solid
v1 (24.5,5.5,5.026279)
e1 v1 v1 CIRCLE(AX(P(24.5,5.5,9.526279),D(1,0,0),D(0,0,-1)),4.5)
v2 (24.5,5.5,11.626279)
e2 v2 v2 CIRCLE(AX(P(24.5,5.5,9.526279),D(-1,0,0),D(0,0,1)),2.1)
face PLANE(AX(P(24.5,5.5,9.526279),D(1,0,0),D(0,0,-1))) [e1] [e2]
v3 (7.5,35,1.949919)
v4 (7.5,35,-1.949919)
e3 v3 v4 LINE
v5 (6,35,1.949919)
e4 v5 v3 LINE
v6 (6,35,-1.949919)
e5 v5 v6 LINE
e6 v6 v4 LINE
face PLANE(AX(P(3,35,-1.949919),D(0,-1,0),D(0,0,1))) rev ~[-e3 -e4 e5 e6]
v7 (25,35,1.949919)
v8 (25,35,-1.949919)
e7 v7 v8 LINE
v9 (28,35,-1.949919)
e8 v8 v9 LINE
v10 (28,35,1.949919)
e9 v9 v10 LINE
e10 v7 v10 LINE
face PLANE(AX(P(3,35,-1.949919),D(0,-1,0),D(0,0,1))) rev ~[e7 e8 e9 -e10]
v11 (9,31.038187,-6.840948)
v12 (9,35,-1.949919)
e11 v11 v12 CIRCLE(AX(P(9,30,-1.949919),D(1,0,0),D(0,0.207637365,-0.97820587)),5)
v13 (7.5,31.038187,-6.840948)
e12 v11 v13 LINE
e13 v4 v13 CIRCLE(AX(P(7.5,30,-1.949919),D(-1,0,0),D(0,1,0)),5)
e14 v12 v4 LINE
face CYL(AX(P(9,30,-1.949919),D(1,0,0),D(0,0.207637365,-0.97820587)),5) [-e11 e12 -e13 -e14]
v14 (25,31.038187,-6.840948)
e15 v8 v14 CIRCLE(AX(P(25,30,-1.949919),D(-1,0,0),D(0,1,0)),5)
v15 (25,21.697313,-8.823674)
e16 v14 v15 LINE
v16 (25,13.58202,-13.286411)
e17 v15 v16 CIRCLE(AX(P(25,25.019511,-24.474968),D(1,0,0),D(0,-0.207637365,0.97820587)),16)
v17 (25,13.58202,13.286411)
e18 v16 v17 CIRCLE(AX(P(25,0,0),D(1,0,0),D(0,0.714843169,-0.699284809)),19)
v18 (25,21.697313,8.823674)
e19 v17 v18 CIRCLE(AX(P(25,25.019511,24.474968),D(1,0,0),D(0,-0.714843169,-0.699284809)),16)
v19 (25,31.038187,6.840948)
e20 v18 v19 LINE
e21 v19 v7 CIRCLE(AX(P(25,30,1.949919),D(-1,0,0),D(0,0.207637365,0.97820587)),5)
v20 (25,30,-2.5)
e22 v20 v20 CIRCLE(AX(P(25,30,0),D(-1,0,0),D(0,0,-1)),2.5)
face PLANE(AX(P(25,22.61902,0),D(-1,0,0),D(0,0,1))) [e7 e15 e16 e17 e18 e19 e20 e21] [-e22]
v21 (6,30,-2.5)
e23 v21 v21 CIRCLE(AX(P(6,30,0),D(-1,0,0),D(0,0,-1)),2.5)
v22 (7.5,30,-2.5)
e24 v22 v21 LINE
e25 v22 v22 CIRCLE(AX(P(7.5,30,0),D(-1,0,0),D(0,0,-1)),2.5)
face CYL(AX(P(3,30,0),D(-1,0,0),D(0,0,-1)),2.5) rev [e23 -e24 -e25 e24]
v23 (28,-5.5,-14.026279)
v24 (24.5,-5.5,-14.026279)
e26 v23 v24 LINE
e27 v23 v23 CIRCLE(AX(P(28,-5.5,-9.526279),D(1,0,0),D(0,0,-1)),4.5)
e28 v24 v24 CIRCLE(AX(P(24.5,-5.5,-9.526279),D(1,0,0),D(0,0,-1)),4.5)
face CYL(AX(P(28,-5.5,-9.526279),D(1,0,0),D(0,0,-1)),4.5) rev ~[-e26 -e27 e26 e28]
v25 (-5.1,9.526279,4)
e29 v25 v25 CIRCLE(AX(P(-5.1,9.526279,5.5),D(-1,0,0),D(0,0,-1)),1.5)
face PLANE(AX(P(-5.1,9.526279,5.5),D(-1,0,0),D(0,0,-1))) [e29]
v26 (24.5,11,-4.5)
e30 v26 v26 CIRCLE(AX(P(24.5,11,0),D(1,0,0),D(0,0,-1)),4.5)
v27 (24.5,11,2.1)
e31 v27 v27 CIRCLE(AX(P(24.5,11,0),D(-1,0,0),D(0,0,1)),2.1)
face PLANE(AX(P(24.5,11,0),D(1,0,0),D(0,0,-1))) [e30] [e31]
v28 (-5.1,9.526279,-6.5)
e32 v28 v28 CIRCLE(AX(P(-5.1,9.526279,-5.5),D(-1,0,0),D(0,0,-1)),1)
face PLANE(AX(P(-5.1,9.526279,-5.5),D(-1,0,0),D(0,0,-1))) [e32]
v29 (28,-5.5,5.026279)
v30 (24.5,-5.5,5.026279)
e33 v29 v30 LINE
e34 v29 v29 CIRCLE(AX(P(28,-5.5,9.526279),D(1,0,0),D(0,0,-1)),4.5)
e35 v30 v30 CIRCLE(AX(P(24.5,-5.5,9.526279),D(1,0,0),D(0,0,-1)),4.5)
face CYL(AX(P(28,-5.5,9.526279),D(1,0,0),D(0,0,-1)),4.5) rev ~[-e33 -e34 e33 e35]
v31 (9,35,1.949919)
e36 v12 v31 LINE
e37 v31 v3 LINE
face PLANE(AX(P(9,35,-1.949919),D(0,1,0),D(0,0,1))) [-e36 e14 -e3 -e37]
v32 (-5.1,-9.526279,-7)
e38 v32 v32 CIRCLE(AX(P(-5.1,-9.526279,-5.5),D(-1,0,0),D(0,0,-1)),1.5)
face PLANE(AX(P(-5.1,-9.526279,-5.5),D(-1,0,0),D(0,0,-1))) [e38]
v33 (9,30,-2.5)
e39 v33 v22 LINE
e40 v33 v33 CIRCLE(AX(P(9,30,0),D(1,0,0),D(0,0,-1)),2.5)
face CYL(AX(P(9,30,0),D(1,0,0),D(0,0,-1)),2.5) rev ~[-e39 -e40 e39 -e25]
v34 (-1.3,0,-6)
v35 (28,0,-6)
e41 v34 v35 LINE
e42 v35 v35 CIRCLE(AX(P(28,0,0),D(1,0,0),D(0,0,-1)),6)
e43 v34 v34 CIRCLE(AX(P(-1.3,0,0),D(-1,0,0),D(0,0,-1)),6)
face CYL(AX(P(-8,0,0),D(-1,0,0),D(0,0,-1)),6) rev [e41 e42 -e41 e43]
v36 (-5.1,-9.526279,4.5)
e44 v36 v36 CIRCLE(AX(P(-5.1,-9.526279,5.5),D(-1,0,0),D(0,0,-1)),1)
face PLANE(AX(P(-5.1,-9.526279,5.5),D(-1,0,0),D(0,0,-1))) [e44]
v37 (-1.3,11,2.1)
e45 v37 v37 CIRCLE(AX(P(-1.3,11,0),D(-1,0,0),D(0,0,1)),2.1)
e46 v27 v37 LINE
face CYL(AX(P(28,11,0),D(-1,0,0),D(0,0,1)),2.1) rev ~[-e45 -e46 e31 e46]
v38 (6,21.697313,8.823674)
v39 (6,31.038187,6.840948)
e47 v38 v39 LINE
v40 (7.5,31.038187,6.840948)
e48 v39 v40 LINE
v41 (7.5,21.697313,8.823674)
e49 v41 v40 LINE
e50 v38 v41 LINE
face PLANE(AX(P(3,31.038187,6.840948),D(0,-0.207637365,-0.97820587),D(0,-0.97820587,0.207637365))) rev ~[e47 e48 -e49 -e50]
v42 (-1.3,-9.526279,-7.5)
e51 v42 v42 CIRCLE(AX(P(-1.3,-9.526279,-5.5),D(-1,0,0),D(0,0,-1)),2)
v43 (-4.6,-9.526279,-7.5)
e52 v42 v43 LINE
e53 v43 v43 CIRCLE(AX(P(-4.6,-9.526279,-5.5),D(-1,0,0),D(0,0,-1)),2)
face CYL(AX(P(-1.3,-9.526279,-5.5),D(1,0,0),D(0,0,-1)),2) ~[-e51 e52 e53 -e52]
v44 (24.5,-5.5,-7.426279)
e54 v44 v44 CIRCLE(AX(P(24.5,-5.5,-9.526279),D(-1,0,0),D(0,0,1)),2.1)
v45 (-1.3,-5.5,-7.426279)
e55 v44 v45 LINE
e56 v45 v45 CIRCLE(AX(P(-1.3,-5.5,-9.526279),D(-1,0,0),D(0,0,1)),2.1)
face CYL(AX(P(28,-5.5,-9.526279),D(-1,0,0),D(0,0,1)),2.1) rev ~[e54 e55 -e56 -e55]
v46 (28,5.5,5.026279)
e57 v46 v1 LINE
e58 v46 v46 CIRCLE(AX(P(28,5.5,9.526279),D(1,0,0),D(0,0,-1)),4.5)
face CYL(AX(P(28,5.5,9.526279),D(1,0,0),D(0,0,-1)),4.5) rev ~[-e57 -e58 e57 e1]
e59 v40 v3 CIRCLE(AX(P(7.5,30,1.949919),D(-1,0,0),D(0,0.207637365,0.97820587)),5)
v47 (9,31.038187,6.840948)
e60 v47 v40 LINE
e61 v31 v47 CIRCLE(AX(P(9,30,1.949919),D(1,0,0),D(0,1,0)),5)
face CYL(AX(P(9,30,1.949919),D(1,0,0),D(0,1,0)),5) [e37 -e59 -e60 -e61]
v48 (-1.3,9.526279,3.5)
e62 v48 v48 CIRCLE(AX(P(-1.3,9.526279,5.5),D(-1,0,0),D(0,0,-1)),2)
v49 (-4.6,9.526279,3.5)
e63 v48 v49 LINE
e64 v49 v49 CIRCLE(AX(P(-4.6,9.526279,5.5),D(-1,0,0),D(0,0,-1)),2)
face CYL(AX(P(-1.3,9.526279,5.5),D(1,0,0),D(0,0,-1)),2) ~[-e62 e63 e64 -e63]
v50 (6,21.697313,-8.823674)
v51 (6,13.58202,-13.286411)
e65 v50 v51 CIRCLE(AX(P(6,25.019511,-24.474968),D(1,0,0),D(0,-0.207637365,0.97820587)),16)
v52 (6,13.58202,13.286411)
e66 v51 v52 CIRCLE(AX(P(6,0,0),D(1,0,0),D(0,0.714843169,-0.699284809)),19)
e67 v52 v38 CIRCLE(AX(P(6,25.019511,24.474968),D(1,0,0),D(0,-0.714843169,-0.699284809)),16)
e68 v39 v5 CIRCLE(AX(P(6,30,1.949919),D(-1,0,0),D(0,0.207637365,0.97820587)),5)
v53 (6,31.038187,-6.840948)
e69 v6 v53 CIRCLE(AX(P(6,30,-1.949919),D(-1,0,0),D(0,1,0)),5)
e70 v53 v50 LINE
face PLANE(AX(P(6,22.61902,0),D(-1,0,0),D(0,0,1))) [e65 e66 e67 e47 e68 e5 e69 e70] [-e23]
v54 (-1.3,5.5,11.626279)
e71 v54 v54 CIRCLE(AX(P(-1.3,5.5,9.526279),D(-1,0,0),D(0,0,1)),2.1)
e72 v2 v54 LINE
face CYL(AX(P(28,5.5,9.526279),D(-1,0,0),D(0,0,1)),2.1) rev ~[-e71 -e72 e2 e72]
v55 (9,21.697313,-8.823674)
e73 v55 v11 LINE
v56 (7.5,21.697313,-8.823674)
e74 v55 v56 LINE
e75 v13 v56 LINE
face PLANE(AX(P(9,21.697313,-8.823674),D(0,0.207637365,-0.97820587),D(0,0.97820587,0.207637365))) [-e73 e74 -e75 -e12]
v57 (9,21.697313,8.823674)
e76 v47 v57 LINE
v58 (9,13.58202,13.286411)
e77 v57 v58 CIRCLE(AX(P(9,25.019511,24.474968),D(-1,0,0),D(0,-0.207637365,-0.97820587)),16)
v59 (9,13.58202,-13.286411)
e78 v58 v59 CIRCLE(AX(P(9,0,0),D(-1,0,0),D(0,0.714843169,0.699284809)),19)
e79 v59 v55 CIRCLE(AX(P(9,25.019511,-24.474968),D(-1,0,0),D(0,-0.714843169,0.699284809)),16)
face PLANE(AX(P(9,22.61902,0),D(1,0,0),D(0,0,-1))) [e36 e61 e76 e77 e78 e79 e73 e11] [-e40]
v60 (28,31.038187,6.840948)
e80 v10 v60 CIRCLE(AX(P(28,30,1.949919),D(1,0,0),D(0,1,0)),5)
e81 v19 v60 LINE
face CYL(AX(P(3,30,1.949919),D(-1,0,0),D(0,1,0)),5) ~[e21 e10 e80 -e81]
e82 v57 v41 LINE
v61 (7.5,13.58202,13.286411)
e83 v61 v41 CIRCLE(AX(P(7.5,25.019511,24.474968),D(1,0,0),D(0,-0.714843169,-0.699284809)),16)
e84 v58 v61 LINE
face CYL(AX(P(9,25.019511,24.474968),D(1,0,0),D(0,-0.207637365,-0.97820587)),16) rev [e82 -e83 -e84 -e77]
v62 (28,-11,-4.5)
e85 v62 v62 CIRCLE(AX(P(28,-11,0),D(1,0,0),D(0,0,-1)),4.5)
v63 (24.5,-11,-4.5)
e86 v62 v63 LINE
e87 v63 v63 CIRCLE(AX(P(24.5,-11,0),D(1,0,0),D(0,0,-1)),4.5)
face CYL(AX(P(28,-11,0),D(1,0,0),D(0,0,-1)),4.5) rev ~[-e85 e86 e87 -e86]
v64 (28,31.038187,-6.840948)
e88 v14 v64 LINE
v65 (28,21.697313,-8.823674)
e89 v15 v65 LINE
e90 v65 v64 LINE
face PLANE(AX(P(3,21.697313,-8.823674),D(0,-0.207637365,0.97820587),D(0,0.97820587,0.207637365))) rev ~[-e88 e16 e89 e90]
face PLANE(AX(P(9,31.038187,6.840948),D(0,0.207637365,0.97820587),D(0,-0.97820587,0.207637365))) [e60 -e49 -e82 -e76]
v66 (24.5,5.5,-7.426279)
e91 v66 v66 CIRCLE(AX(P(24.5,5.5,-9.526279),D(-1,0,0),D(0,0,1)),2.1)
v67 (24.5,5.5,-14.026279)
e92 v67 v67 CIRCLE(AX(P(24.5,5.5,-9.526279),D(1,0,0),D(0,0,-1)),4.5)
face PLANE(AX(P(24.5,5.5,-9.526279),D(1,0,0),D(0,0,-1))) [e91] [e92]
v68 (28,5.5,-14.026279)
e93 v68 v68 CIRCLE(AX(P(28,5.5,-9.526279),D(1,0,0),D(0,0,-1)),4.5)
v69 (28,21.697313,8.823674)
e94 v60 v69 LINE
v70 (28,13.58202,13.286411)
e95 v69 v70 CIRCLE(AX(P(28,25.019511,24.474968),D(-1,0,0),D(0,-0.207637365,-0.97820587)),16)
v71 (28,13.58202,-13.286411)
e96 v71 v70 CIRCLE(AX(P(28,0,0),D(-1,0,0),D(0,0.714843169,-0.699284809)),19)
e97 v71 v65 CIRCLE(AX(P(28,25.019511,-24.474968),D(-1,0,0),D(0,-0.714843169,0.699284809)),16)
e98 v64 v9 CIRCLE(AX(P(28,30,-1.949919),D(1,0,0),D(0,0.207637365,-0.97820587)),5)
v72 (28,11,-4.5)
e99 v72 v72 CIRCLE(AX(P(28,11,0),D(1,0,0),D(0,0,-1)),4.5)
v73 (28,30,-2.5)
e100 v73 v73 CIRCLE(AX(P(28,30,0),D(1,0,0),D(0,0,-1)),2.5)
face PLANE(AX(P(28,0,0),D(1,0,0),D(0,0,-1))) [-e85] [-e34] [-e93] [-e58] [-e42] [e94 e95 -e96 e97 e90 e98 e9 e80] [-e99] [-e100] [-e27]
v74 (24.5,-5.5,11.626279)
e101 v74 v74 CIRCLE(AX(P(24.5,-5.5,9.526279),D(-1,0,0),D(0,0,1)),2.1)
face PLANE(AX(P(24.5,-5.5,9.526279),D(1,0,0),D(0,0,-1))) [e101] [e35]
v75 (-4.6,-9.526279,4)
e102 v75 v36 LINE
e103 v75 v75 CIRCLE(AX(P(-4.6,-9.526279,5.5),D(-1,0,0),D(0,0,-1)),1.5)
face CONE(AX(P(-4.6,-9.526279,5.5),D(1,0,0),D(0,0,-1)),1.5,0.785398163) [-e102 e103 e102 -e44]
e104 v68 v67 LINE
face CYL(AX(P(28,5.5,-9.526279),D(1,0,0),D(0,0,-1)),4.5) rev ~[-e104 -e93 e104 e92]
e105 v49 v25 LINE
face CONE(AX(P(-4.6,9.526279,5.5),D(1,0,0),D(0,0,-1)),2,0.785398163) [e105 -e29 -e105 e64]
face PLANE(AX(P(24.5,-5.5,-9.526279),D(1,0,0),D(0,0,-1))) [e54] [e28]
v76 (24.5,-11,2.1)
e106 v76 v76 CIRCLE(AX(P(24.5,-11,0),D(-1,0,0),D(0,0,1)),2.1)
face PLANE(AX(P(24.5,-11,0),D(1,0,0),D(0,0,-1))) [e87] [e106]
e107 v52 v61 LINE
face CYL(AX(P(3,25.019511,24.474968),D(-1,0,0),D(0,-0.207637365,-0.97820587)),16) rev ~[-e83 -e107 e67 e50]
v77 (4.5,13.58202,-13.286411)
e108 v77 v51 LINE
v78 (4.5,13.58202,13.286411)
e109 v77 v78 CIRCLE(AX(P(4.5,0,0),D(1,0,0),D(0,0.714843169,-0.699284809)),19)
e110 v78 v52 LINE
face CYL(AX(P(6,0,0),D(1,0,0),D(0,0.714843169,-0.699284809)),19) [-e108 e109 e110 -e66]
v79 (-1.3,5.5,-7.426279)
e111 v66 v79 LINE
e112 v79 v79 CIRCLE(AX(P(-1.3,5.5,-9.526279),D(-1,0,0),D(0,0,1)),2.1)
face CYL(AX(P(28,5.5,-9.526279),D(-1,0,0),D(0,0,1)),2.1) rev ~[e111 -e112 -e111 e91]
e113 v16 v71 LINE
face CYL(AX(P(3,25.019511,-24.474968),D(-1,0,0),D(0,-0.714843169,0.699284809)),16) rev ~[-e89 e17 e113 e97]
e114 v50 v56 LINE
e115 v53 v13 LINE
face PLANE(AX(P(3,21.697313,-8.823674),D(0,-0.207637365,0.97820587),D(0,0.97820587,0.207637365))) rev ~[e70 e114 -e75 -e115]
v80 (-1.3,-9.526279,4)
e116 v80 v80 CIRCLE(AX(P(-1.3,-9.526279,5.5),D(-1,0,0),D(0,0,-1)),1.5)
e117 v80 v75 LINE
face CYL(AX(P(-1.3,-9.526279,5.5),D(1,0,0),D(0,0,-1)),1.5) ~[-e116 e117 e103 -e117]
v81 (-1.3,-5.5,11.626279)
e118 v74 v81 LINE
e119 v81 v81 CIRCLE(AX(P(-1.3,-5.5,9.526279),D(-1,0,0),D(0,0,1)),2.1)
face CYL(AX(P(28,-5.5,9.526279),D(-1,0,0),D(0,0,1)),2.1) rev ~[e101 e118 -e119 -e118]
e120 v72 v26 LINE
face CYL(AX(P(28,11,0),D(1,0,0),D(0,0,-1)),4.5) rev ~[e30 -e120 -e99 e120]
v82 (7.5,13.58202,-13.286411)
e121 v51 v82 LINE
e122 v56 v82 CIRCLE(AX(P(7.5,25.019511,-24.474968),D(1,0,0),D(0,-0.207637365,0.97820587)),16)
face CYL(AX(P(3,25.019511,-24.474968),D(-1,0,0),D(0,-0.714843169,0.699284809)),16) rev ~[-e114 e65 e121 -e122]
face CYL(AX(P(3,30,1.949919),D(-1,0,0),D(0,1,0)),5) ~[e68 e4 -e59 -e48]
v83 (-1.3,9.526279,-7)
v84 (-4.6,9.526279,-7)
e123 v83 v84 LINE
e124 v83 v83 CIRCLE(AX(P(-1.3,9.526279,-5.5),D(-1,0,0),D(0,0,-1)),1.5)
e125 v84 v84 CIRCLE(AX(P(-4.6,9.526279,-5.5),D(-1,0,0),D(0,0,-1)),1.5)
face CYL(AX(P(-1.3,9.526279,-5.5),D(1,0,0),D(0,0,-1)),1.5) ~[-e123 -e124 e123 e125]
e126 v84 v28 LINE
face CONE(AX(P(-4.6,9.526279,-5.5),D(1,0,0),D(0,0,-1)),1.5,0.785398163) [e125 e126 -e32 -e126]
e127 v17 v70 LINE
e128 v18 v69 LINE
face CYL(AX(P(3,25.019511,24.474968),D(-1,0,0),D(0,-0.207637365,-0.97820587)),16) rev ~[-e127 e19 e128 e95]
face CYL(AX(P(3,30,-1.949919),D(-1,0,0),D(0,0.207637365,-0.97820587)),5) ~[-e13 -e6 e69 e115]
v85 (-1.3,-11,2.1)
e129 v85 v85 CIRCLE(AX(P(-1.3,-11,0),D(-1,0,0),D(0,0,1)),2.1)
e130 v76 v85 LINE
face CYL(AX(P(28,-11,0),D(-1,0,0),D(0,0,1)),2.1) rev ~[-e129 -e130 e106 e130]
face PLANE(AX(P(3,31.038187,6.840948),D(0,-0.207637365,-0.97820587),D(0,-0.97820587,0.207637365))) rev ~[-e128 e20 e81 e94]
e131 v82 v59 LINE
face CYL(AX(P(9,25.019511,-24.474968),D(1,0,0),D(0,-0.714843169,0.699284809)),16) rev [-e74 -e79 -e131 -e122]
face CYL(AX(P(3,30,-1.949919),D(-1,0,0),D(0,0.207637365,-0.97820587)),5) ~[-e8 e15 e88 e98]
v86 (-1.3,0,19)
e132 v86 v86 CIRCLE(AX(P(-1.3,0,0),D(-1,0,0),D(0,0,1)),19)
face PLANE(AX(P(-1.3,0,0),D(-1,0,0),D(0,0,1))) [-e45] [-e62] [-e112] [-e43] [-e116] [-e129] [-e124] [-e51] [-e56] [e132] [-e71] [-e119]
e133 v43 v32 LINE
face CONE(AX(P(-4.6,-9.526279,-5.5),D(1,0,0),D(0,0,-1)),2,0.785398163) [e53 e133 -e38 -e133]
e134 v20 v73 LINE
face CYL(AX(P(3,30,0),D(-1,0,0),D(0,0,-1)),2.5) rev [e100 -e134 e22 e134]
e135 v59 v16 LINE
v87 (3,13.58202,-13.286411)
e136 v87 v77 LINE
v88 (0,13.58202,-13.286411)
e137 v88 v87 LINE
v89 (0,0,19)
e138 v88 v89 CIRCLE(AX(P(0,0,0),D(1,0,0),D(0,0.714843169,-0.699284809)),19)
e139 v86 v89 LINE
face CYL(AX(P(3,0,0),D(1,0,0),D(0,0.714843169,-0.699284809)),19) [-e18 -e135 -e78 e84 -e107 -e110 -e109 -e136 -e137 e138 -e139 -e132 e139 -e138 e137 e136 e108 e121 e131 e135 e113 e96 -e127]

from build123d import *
from build123d.topology import SkipClean

# Parameters (mm, degrees)
SKETCH_1_R                   = 19
SKETCH_1_R_2                 = 2
SKETCH_1_R_3                 = 11
EXTRUDE_1_DEPTH              = 3
EXTRUDE_START                = -3
EXTRUDE_2_DEPTH              = 3
FILLET_1_R                   = 3
SKETCH_5_R                   = 2.5
EXTRUDE_3_DEPTH              = 3
FILLET_2_R                   = 16
FILLET_3_R                   = 5
EXTRUDE_START_2              = 8
SKETCH_8_R                   = 19
SKETCH_8_R_2                 = 2
EXTRUDE_5_DEPTH              = 8
SKETCH_9_R                   = 2
SKETCH_9_R_2                 = 2.5
EXTRUDE_6_DEPTH              = 25
CUT_EXTRUDE_START            = -17.5
CUT_EXTRUDE_1_DEPTH          = 16
EXTRUDE_START_3              = -36
SKETCH_12_R                  = 19
SKETCH_12_R_2                = 11
EXTRUDE_7_DEPTH              = 36
SKETCH_13_R                  = 6
EXTRUDE_8_DEPTH              = 36
CUT_EXTRUDE_START_2          = -36
SKETCH_14_R                  = 2
CUT_EXTRUDE_2_DEPTH          = 36
SKETCH_15_R                  = 28.71288773
CUT_EXTRUDE_3_DEPTH          = 6.7
SKETCH_17_R                  = 2
SKETCH_17_R_2                = 1.5
EXTRUDE_9_DEPTH              = 3.8
CHAMFER_2_SIZE               = 0.5
CUT_EXTRUDE_START_3          = -3
CUT_EXTRUDE_4_DEPTH          = 3
HOLE_WIZARD_M5_3_D           = 4.2
HOLE_WIZARD_M5_3_CSINK_D     = 4.25
HOLE_WIZARD_M5_3_CSINK_ANGLE = 90
SKETCH_24_R                  = 4.5
CUT_EXTRUDE_5_DEPTH          = 3.5
CUT_EXTRUDE_START_4          = -1.5
CUT_EXTRUDE_6_DEPTH          = 1.5
CUT_EXTRUDE_7_DEPTH          = 1.5
EXTRUDE_START_4              = 1.5
SKETCH_28_R                  = 2.5
EXTRUDE_10_DEPTH             = 1.5
CUT_EXTRUDE_8_DEPTH          = 1.5


with BuildPart() as part:
    # 草图1 → 凸台-拉伸1 (new body)
    with BuildSketch(Plane(origin=(0, 0, 0), x_dir=(0, 0, -1), z_dir=(1, 0, 0))):
        Circle(SKETCH_1_R)
        with Locations((0, -15)):
            Circle(SKETCH_1_R_2, mode=Mode.SUBTRACT)
        with Locations((0, 13.5)):
            Circle(SKETCH_1_R_2, mode=Mode.SUBTRACT)
        with Locations((11.691342951, -6.75)):
            Circle(SKETCH_1_R_2, mode=Mode.SUBTRACT)
        with Locations((-12.990381057, 7.5)):
            Circle(SKETCH_1_R_2, mode=Mode.SUBTRACT)
        with Locations((-11.691342951, -6.75)):
            Circle(SKETCH_1_R_2, mode=Mode.SUBTRACT)
        with Locations((12.990381057, 7.5)):
            Circle(SKETCH_1_R_2, mode=Mode.SUBTRACT)
        Circle(SKETCH_1_R_3, mode=Mode.SUBTRACT)
    extrude(amount=EXTRUDE_1_DEPTH)

    # 草图3 → 凸台-拉伸2 (add)
    with BuildSketch(Plane(origin=(3, 0, 0), x_dir=(0, 0, -1), z_dir=(1, 0, 0)).offset(EXTRUDE_START)):
        with BuildLine():
            ThreePointArc((-2.795361016, 10.638888889), (0, 9.5), (2.795361016, 10.638888889))
            ThreePointArc((2.795361016, 10.638888889), (0, 11), (-2.795361016, 10.638888889))
        make_face()
        with BuildLine():
            ThreePointArc((10.611228554, -2.898590792), (8.227241336, -4.75), (7.815867538, -7.740298097))
            ThreePointArc((7.815867538, -7.740298097), (9.526279442, -5.5), (10.611228554, -2.898590792))
        make_face()
        with BuildLine():
            ThreePointArc((-7.815867538, -7.740298097), (-8.227241336, -4.75), (-10.611228554, -2.898590792))
            ThreePointArc((-10.611228554, -2.898590792), (-9.526279442, -5.5), (-7.815867538, -7.740298097))
        make_face()
    extrude(amount=EXTRUDE_2_DEPTH)

    # 圆角1
    fillet_1_edges = [part.edges().sort_by_distance(p)[0] for p in [
        (1.5, 10.638888889, 2.795361016),
        (1.5, 10.638888889, -2.795361016),
        (1.5, -2.898590792, -10.611228554),
        (1.5, -7.740298097, -7.815867538),
        (1.5, -7.740298097, 7.815867538),
        (1.5, -2.898590792, 10.611228554),
    ]]
    fillet(fillet_1_edges, radius=FILLET_1_R)

    # 草图5 → 凸台-拉伸3 (add)
    with BuildSketch(Plane(origin=(3, 0, 0), x_dir=(0, 0, -1), z_dir=(1, 0, 0)).offset(EXTRUDE_START)):
        with BuildLine():
            Line((-6, 35), (-10, 16.155494421))
            ThreePointArc((-10, 16.155494421), (0, 19), (10, 16.155494421))
            Line((10, 16.155494421), (6, 35))
            Line((6, 35), (-6, 35))
        make_face()
        with Locations((0, 30)):
            Circle(SKETCH_5_R, mode=Mode.SUBTRACT)
    extrude(amount=EXTRUDE_3_DEPTH)

    # 圆角2
    fillet_2_edges = [part.edges().sort_by_distance(p)[0] for p in [
        (1.5, 16.155494421, 10),
        (1.5, 16.155494421, -10),
    ]]
    fillet(fillet_2_edges, radius=FILLET_2_R)

    # 圆角3
    fillet_3_edges = [part.edges().sort_by_distance(p)[0] for p in [
        (1.5, 35, -6),
        (1.5, 35, 6),
    ]]
    fillet(fillet_3_edges, radius=FILLET_3_R)

    # 草图8 → 凸台-拉伸5 (add)
    with BuildSketch(Plane.ZY.offset(EXTRUDE_START_2)):
        Circle(SKETCH_8_R)
        with Locations((0, -15)):
            Circle(SKETCH_8_R_2, mode=Mode.SUBTRACT)
        with Locations((-11.691342951, -6.75)):
            Circle(SKETCH_8_R_2, mode=Mode.SUBTRACT)
        with Locations((11.691342951, -6.75)):
            Circle(SKETCH_8_R_2, mode=Mode.SUBTRACT)
        with Locations((12.990381057, 7.5)):
            Circle(SKETCH_8_R_2, mode=Mode.SUBTRACT)
        with Locations((0, 13.5)):
            Circle(SKETCH_8_R_2, mode=Mode.SUBTRACT)
        with Locations((-12.990381057, 7.5)):
            Circle(SKETCH_8_R_2, mode=Mode.SUBTRACT)
        with BuildLine():
            ThreePointArc((9.557371648, -3.366781639), (10.505068504, -2.412656367), (10.940728111, -1.140380819))
            ThreePointArc((10.940728111, -1.140380819), (9.526279442, 5.5), (4.482765296, 10.045138889))
            ThreePointArc((4.482765296, 10.045138889), (3.163112547, 10.303984377), (1.862967396, 9.96031746))
            ThreePointArc((1.862967396, 9.96031746), (0, 9.5), (-1.862967396, 9.96031746))
            ThreePointArc((-1.862967396, 9.96031746), (-3.163112547, 10.303984377), (-4.482765296, 10.045138889))
            ThreePointArc((-4.482765296, 10.045138889), (-9.526279442, 5.5), (-10.940728111, -1.140380819))
            ThreePointArc((-10.940728111, -1.140380819), (-10.505068504, -2.412656367), (-9.557371648, -3.366781639))
            ThreePointArc((-9.557371648, -3.366781639), (-8.227241336, -4.75), (-7.694404252, -6.593535821))
            ThreePointArc((-7.694404252, -6.593535821), (-7.341955957, -7.89132801), (-6.457962814, -8.90475807))
            ThreePointArc((-6.457962814, -8.90475807), (0, -11), (6.457962814, -8.90475807))
            ThreePointArc((6.457962814, -8.90475807), (7.341955957, -7.89132801), (7.694404252, -6.593535821))
            ThreePointArc((7.694404252, -6.593535821), (8.227241336, -4.75), (9.557371648, -3.366781639))
        make_face(mode=Mode.SUBTRACT)
    extrude(amount=-EXTRUDE_5_DEPTH)

    # 草图9 → 凸台-拉伸6 (add)
    with BuildSketch(Plane(origin=(3, 0, 0), x_dir=(0, 0, -1), z_dir=(1, 0, 0))):
        with BuildLine():
            Line((8.823674386, 21.697313072), (6.840948182, 31.038186825))
            ThreePointArc((6.840948182, 31.038186825), (5.097065624, 33.885288543), (1.94991883, 35))
            Line((1.94991883, 35), (-1.94991883, 35))
            ThreePointArc((-1.94991883, 35), (-5.097065624, 33.885288543), (-6.840948182, 31.038186825))
            Line((-6.840948182, 31.038186825), (-8.823674386, 21.697313072))
            ThreePointArc((-8.823674386, 21.697313072), (-10.455022048, 17.309705025), (-13.286411369, 13.582020209))
            ThreePointArc((-13.286411369, 13.582020209), (0, -19), (13.286411369, 13.582020209))
            ThreePointArc((13.286411369, 13.582020209), (10.455022048, 17.309705025), (8.823674386, 21.697313072))
        make_face()
        with Locations(Location((0, -15, 0), (0, 0, 180))):
            Circle(SKETCH_9_R, mode=Mode.SUBTRACT)
        with Locations(Location((11.691342951, -6.75, 0), (0, 0, 180))):
            Circle(SKETCH_9_R, mode=Mode.SUBTRACT)
        with Locations(Location((-11.691342951, -6.75, 0), (0, 0, 180))):
            Circle(SKETCH_9_R, mode=Mode.SUBTRACT)
        with Locations(Location((12.990381057, 7.5, 0), (0, 0, 180))):
            Circle(SKETCH_9_R, mode=Mode.SUBTRACT)
        with Locations(Location((-12.990381057, 7.5, 0), (0, 0, 180))):
            Circle(SKETCH_9_R, mode=Mode.SUBTRACT)
        with Locations(Location((0, 13.5, 0), (0, 0, 180))):
            Circle(SKETCH_9_R, mode=Mode.SUBTRACT)
        with Locations((0, 30)):
            Circle(SKETCH_9_R_2, mode=Mode.SUBTRACT)
        with BuildLine():
            ThreePointArc((6.457962814, -8.90475807), (7.341955957, -7.89132801), (7.694404252, -6.593535821))
            ThreePointArc((7.694404252, -6.593535821), (8.227241336, -4.75), (9.557371648, -3.366781639))
            ThreePointArc((9.557371648, -3.366781639), (10.505068504, -2.412656367), (10.940728111, -1.140380819))
            ThreePointArc((10.940728111, -1.140380819), (9.526279442, 5.5), (4.482765296, 10.045138889))
            ThreePointArc((4.482765296, 10.045138889), (3.163112547, 10.303984377), (1.862967396, 9.96031746))
            ThreePointArc((1.862967396, 9.96031746), (0, 9.5), (-1.862967396, 9.96031746))
            ThreePointArc((-1.862967396, 9.96031746), (-3.163112547, 10.303984377), (-4.482765296, 10.045138889))
            ThreePointArc((-4.482765296, 10.045138889), (-9.526279442, 5.5), (-10.940728111, -1.140380819))
            ThreePointArc((-10.940728111, -1.140380819), (-10.505068504, -2.412656367), (-9.557371648, -3.366781639))
            ThreePointArc((-9.557371648, -3.366781639), (-8.227241336, -4.75), (-7.694404252, -6.593535821))
            ThreePointArc((-7.694404252, -6.593535821), (-7.341955957, -7.89132801), (-6.457962814, -8.90475807))
            ThreePointArc((-6.457962814, -8.90475807), (0, -11), (6.457962814, -8.90475807))
        make_face(mode=Mode.SUBTRACT)
    extrude(amount=EXTRUDE_6_DEPTH)

    # 草图11 → 切除-拉伸1 (cut)
    with BuildSketch(Plane.ZY.offset(-6).offset(CUT_EXTRUDE_START)):
        with BuildLine():
            Line((-6.840948182, 31.038186825), (-8.823674386, 21.697313072))
            ThreePointArc((-8.823674386, 21.697313072), (-10.455022048, 17.309705025), (-13.286411369, 13.582020209))
            ThreePointArc((-13.286411369, 13.582020209), (0, 19), (13.286411369, 13.582020209))
            ThreePointArc((13.286411369, 13.582020209), (10.455022048, 17.309705025), (8.823674386, 21.697313072))
            Line((8.823674386, 21.697313072), (6.840948182, 31.038186825))
            ThreePointArc((6.840948182, 31.038186825), (5.097065624, 33.885288543), (1.94991883, 35))
            Line((1.94991883, 35), (-1.94991883, 35))
            ThreePointArc((-1.94991883, 35), (-5.097065624, 33.885288543), (-6.840948182, 31.038186825))
        make_face()
    extrude(amount=CUT_EXTRUDE_1_DEPTH, mode=Mode.SUBTRACT)

    # 草图12 → 凸台-拉伸7 (add)
    with BuildSketch(Plane(origin=(28, 0, 0), x_dir=(0, 0, -1), z_dir=(1, 0, 0)).offset(EXTRUDE_START_3)):
        with Locations(Location((0, 0, 0), (0, 0, 180))):
            Circle(SKETCH_12_R)
        Circle(SKETCH_12_R_2, mode=Mode.SUBTRACT)
    extrude(amount=EXTRUDE_7_DEPTH)

    # 草图13 → 凸台-拉伸8 (add)
    with BuildSketch(Plane(origin=(28, 0, 0), x_dir=(0, 0, -1), z_dir=(1, 0, 0)).offset(EXTRUDE_START_3)):
        with BuildLine():
            ThreePointArc((-10.364679473, 3.684212185), (-11, 0), (-10.364679473, -3.684212185))
            ThreePointArc((-10.364679473, -3.684212185), (-7.794228634, -4.5), (-8.372961082, -7.133969633))
            ThreePointArc((-8.372961082, -7.133969633), (-5.5, -9.526279442), (-1.991718391, -10.818181818))
            ThreePointArc((-1.991718391, -10.818181818), (0, -9), (1.991718391, -10.818181818))
            ThreePointArc((1.991718391, -10.818181818), (5.5, -9.526279442), (8.372961082, -7.133969633))
            ThreePointArc((8.372961082, -7.133969633), (7.794228634, -4.5), (10.364679473, -3.684212185))
            ThreePointArc((10.364679473, -3.684212185), (11, 0), (10.364679473, 3.684212185))
            ThreePointArc((10.364679473, 3.684212185), (7.794228634, 4.5), (8.372961082, 7.133969633))
            ThreePointArc((8.372961082, 7.133969633), (5.5, 9.526279442), (1.991718391, 10.818181818))
            ThreePointArc((1.991718391, 10.818181818), (0, 9), (-1.991718391, 10.818181818))
            ThreePointArc((-1.991718391, 10.818181818), (-5.5, 9.526279442), (-8.372961082, 7.133969633))
            ThreePointArc((-8.372961082, 7.133969633), (-7.794228634, 4.5), (-10.364679473, 3.684212185))
        make_face()
        Circle(SKETCH_13_R, mode=Mode.SUBTRACT)
    extrude(amount=EXTRUDE_8_DEPTH)

    # 草图14 → 切除-拉伸2 (cut)
    with SkipClean():  # the faces are left unmerged after this step: merging them gives an invalid solid
        with BuildSketch(Plane(origin=(28, 0, 0), x_dir=(0, 0, -1), z_dir=(1, 0, 0)).offset(CUT_EXTRUDE_START_2)):
            with Locations((0, 11)):
                Circle(SKETCH_14_R)
            with Locations((-9.526279442, 5.5)):
                Circle(SKETCH_14_R)
            with Locations((-9.526279442, -5.5)):
                Circle(SKETCH_14_R)
            with Locations((0, -11)):
                Circle(SKETCH_14_R)
            with Locations((9.526279442, -5.5)):
                Circle(SKETCH_14_R)
            with Locations((9.526279442, 5.5)):
                Circle(SKETCH_14_R)
        extrude(amount=CUT_EXTRUDE_2_DEPTH, mode=Mode.SUBTRACT)

    # 草图15 → 切除-拉伸3 (cut)
    with SkipClean():  # the faces are left unmerged after this step: merging them gives an invalid solid
        with BuildSketch(Plane.ZY.offset(8)):
            Circle(SKETCH_15_R)
        extrude(amount=-CUT_EXTRUDE_3_DEPTH, mode=Mode.SUBTRACT)

    # 草图17 → 凸台-拉伸9 (add)
    with SkipClean():  # the faces are left unmerged after this step: merging them gives an invalid solid
        with BuildSketch(Plane.ZY.offset(1.3)):
            with Locations(Location((-5.5, -9.526279442, 0), (0, 0, 180))):
                Circle(SKETCH_17_R)
            with Locations(Location((-5.5, 9.526279442, 0), (0, 0, 180))):
                Circle(SKETCH_17_R_2)
            with Locations(Location((5.5, 9.526279442, 0), (0, 0, 180))):
                Circle(SKETCH_17_R)
            with Locations(Location((5.5, -9.526279442, 0), (0, 0, 180))):
                Circle(SKETCH_17_R_2)
        extrude(amount=EXTRUDE_9_DEPTH)

    # 倒角2
    chamfer_2_edges = [part.edges().sort_by_distance(p)[0] for p in [
        (-5.1, -9.526279442, -3.5),
        (-5.1, 9.526279442, -4),
        (-5.1, 9.526279442, 7.5),
        (-5.1, -9.526279442, 7),
    ]]
    chamfer(chamfer_2_edges, length=CHAMFER_2_SIZE)

    # 草图19 → 切除-拉伸4 (cut)
    with SkipClean():  # the faces are left unmerged after this step: merging them gives an invalid solid
        with BuildSketch(Plane.ZY.offset(CUT_EXTRUDE_START_3)):
            with BuildLine():
                Line((8.823674386, 21.697313072), (6.840948182, 31.038186825))
                ThreePointArc((6.840948182, 31.038186825), (5.097065624, 33.885288543), (1.94991883, 35))
                Line((1.94991883, 35), (-1.94991883, 35))
                ThreePointArc((-1.94991883, 35), (-5.097065624, 33.885288543), (-6.840948182, 31.038186825))
                Line((-6.840948182, 31.038186825), (-8.823674386, 21.697313072))
                ThreePointArc((-8.823674386, 21.697313072), (-10.455022048, 17.309705025), (-13.286411369, 13.582020209))
                ThreePointArc((-13.286411369, 13.582020209), (0, 19), (13.286411369, 13.582020209))
                ThreePointArc((13.286411369, 13.582020209), (10.455022048, 17.309705025), (8.823674386, 21.697313072))
            make_face()
        extrude(amount=CUT_EXTRUDE_4_DEPTH, mode=Mode.SUBTRACT)

    # M5 螺纹孔的螺纹孔钻头3 (through all)
    with Locations(Plane(origin=(28, 0, 0), x_dir=(0, 0, -1), z_dir=(1, 0, 0))):
        with Locations((0, 11), (9.526279442, 5.5), (9.526279442, -5.5), (0, -11), (-9.526279442, -5.5), (-9.526279442, 5.5)):
            CounterSinkHole(HOLE_WIZARD_M5_3_D / 2, HOLE_WIZARD_M5_3_CSINK_D / 2, counter_sink_angle=HOLE_WIZARD_M5_3_CSINK_ANGLE)

    # 草图24 → 切除-拉伸5 (cut)
    with BuildSketch(Plane(origin=(28, 0, 0), x_dir=(0, 0, -1), z_dir=(1, 0, 0))):
        with Locations((0, 11)):
            Circle(SKETCH_24_R)
        with Locations((9.526279442, 5.5)):
            Circle(SKETCH_24_R)
        with Locations((9.526279442, -5.5)):
            Circle(SKETCH_24_R)
        with Locations((0, -11)):
            Circle(SKETCH_24_R)
        with Locations((-9.526279442, -5.5)):
            Circle(SKETCH_24_R)
        with Locations((-9.526279442, 5.5)):
            Circle(SKETCH_24_R)
    extrude(amount=-CUT_EXTRUDE_5_DEPTH, mode=Mode.SUBTRACT)

    # 草图25 → 切除-拉伸6 (cut)
    with BuildSketch(Plane.ZY.offset(-23.5).offset(CUT_EXTRUDE_START_4)):
        with BuildLine():
            Line((8.823674386, 21.697313072), (6.840948182, 31.038186825))
            ThreePointArc((6.840948182, 31.038186825), (5.097065624, 33.885288543), (1.94991883, 35))
            Line((1.94991883, 35), (-1.94991883, 35))
            ThreePointArc((-1.94991883, 35), (-5.097065624, 33.885288543), (-6.840948182, 31.038186825))
            Line((-6.840948182, 31.038186825), (-8.823674386, 21.697313072))
            ThreePointArc((-8.823674386, 21.697313072), (-10.455022048, 17.309705025), (-13.286411369, 13.582020209))
            ThreePointArc((-13.286411369, 13.582020209), (0, 19), (13.286411369, 13.582020209))
            ThreePointArc((13.286411369, 13.582020209), (10.455022048, 17.309705025), (8.823674386, 21.697313072))
        make_face()
    extrude(amount=CUT_EXTRUDE_6_DEPTH, mode=Mode.SUBTRACT)

    # 草图26 → 切除-拉伸7 (cut)
    with BuildSketch(Plane.ZY.offset(-3).offset(CUT_EXTRUDE_START_4)):
        with BuildLine():
            Line((8.823674386, 21.697313072), (6.840948182, 31.038186825))
            ThreePointArc((6.840948182, 31.038186825), (5.097065624, 33.885288543), (1.94991883, 35))
            Line((1.94991883, 35), (-1.94991883, 35))
            ThreePointArc((-1.94991883, 35), (-5.097065624, 33.885288543), (-6.840948182, 31.038186825))
            Line((-6.840948182, 31.038186825), (-8.823674386, 21.697313072))
            ThreePointArc((-8.823674386, 21.697313072), (-10.455022048, 17.309705025), (-13.286411369, 13.582020209))
            ThreePointArc((-13.286411369, 13.582020209), (0, 19), (13.286411369, 13.582020209))
            ThreePointArc((13.286411369, 13.582020209), (10.455022048, 17.309705025), (8.823674386, 21.697313072))
        make_face()
    extrude(amount=CUT_EXTRUDE_7_DEPTH, mode=Mode.SUBTRACT)

    # 草图28 → 凸台-拉伸10 (add)
    with BuildSketch(Plane(origin=(7.5, 0, 0), x_dir=(0, 0, -1), z_dir=(1, 0, 0)).offset(EXTRUDE_START_4)):
        with BuildLine():
            Line((8.823674386, 21.697313072), (6.840948182, 31.038186825))
            ThreePointArc((6.840948182, 31.038186825), (5.097065624, 33.885288543), (1.94991883, 35))
            Line((1.94991883, 35), (-1.94991883, 35))
            ThreePointArc((-1.94991883, 35), (-5.097065624, 33.885288543), (-6.840948182, 31.038186825))
            Line((-6.840948182, 31.038186825), (-8.823674386, 21.697313072))
            ThreePointArc((-8.823674386, 21.697313072), (-10.455022048, 17.309705025), (-13.286411369, 13.582020209))
            ThreePointArc((-13.286411369, 13.582020209), (0, 19), (13.286411369, 13.582020209))
            ThreePointArc((13.286411369, 13.582020209), (10.455022048, 17.309705025), (8.823674386, 21.697313072))
        make_face()
        with Locations((0, 30)):
            Circle(SKETCH_28_R, mode=Mode.SUBTRACT)
    extrude(amount=-EXTRUDE_10_DEPTH)

    # 草图29 → 切除-拉伸8 (cut)
    with BuildSketch(Plane.ZY.offset(-4.5).offset(CUT_EXTRUDE_START_4)):
        with BuildLine():
            Line((8.823674386, 21.697313072), (6.840948182, 31.038186825))
            ThreePointArc((6.840948182, 31.038186825), (5.097065624, 33.885288543), (1.94991883, 35))
            Line((1.94991883, 35), (-1.94991883, 35))
            ThreePointArc((-1.94991883, 35), (-5.097065624, 33.885288543), (-6.840948182, 31.038186825))
            Line((-6.840948182, 31.038186825), (-8.823674386, 21.697313072))
            ThreePointArc((-8.823674386, 21.697313072), (-10.455022048, 17.309705025), (-13.286411369, 13.582020209))
            ThreePointArc((-13.286411369, 13.582020209), (0, 19), (13.286411369, 13.582020209))
            ThreePointArc((13.286411369, 13.582020209), (10.455022048, 17.309705025), (8.823674386, 21.697313072))
        make_face()
    extrude(amount=CUT_EXTRUDE_8_DEPTH, mode=Mode.SUBTRACT)


solid = part.part
